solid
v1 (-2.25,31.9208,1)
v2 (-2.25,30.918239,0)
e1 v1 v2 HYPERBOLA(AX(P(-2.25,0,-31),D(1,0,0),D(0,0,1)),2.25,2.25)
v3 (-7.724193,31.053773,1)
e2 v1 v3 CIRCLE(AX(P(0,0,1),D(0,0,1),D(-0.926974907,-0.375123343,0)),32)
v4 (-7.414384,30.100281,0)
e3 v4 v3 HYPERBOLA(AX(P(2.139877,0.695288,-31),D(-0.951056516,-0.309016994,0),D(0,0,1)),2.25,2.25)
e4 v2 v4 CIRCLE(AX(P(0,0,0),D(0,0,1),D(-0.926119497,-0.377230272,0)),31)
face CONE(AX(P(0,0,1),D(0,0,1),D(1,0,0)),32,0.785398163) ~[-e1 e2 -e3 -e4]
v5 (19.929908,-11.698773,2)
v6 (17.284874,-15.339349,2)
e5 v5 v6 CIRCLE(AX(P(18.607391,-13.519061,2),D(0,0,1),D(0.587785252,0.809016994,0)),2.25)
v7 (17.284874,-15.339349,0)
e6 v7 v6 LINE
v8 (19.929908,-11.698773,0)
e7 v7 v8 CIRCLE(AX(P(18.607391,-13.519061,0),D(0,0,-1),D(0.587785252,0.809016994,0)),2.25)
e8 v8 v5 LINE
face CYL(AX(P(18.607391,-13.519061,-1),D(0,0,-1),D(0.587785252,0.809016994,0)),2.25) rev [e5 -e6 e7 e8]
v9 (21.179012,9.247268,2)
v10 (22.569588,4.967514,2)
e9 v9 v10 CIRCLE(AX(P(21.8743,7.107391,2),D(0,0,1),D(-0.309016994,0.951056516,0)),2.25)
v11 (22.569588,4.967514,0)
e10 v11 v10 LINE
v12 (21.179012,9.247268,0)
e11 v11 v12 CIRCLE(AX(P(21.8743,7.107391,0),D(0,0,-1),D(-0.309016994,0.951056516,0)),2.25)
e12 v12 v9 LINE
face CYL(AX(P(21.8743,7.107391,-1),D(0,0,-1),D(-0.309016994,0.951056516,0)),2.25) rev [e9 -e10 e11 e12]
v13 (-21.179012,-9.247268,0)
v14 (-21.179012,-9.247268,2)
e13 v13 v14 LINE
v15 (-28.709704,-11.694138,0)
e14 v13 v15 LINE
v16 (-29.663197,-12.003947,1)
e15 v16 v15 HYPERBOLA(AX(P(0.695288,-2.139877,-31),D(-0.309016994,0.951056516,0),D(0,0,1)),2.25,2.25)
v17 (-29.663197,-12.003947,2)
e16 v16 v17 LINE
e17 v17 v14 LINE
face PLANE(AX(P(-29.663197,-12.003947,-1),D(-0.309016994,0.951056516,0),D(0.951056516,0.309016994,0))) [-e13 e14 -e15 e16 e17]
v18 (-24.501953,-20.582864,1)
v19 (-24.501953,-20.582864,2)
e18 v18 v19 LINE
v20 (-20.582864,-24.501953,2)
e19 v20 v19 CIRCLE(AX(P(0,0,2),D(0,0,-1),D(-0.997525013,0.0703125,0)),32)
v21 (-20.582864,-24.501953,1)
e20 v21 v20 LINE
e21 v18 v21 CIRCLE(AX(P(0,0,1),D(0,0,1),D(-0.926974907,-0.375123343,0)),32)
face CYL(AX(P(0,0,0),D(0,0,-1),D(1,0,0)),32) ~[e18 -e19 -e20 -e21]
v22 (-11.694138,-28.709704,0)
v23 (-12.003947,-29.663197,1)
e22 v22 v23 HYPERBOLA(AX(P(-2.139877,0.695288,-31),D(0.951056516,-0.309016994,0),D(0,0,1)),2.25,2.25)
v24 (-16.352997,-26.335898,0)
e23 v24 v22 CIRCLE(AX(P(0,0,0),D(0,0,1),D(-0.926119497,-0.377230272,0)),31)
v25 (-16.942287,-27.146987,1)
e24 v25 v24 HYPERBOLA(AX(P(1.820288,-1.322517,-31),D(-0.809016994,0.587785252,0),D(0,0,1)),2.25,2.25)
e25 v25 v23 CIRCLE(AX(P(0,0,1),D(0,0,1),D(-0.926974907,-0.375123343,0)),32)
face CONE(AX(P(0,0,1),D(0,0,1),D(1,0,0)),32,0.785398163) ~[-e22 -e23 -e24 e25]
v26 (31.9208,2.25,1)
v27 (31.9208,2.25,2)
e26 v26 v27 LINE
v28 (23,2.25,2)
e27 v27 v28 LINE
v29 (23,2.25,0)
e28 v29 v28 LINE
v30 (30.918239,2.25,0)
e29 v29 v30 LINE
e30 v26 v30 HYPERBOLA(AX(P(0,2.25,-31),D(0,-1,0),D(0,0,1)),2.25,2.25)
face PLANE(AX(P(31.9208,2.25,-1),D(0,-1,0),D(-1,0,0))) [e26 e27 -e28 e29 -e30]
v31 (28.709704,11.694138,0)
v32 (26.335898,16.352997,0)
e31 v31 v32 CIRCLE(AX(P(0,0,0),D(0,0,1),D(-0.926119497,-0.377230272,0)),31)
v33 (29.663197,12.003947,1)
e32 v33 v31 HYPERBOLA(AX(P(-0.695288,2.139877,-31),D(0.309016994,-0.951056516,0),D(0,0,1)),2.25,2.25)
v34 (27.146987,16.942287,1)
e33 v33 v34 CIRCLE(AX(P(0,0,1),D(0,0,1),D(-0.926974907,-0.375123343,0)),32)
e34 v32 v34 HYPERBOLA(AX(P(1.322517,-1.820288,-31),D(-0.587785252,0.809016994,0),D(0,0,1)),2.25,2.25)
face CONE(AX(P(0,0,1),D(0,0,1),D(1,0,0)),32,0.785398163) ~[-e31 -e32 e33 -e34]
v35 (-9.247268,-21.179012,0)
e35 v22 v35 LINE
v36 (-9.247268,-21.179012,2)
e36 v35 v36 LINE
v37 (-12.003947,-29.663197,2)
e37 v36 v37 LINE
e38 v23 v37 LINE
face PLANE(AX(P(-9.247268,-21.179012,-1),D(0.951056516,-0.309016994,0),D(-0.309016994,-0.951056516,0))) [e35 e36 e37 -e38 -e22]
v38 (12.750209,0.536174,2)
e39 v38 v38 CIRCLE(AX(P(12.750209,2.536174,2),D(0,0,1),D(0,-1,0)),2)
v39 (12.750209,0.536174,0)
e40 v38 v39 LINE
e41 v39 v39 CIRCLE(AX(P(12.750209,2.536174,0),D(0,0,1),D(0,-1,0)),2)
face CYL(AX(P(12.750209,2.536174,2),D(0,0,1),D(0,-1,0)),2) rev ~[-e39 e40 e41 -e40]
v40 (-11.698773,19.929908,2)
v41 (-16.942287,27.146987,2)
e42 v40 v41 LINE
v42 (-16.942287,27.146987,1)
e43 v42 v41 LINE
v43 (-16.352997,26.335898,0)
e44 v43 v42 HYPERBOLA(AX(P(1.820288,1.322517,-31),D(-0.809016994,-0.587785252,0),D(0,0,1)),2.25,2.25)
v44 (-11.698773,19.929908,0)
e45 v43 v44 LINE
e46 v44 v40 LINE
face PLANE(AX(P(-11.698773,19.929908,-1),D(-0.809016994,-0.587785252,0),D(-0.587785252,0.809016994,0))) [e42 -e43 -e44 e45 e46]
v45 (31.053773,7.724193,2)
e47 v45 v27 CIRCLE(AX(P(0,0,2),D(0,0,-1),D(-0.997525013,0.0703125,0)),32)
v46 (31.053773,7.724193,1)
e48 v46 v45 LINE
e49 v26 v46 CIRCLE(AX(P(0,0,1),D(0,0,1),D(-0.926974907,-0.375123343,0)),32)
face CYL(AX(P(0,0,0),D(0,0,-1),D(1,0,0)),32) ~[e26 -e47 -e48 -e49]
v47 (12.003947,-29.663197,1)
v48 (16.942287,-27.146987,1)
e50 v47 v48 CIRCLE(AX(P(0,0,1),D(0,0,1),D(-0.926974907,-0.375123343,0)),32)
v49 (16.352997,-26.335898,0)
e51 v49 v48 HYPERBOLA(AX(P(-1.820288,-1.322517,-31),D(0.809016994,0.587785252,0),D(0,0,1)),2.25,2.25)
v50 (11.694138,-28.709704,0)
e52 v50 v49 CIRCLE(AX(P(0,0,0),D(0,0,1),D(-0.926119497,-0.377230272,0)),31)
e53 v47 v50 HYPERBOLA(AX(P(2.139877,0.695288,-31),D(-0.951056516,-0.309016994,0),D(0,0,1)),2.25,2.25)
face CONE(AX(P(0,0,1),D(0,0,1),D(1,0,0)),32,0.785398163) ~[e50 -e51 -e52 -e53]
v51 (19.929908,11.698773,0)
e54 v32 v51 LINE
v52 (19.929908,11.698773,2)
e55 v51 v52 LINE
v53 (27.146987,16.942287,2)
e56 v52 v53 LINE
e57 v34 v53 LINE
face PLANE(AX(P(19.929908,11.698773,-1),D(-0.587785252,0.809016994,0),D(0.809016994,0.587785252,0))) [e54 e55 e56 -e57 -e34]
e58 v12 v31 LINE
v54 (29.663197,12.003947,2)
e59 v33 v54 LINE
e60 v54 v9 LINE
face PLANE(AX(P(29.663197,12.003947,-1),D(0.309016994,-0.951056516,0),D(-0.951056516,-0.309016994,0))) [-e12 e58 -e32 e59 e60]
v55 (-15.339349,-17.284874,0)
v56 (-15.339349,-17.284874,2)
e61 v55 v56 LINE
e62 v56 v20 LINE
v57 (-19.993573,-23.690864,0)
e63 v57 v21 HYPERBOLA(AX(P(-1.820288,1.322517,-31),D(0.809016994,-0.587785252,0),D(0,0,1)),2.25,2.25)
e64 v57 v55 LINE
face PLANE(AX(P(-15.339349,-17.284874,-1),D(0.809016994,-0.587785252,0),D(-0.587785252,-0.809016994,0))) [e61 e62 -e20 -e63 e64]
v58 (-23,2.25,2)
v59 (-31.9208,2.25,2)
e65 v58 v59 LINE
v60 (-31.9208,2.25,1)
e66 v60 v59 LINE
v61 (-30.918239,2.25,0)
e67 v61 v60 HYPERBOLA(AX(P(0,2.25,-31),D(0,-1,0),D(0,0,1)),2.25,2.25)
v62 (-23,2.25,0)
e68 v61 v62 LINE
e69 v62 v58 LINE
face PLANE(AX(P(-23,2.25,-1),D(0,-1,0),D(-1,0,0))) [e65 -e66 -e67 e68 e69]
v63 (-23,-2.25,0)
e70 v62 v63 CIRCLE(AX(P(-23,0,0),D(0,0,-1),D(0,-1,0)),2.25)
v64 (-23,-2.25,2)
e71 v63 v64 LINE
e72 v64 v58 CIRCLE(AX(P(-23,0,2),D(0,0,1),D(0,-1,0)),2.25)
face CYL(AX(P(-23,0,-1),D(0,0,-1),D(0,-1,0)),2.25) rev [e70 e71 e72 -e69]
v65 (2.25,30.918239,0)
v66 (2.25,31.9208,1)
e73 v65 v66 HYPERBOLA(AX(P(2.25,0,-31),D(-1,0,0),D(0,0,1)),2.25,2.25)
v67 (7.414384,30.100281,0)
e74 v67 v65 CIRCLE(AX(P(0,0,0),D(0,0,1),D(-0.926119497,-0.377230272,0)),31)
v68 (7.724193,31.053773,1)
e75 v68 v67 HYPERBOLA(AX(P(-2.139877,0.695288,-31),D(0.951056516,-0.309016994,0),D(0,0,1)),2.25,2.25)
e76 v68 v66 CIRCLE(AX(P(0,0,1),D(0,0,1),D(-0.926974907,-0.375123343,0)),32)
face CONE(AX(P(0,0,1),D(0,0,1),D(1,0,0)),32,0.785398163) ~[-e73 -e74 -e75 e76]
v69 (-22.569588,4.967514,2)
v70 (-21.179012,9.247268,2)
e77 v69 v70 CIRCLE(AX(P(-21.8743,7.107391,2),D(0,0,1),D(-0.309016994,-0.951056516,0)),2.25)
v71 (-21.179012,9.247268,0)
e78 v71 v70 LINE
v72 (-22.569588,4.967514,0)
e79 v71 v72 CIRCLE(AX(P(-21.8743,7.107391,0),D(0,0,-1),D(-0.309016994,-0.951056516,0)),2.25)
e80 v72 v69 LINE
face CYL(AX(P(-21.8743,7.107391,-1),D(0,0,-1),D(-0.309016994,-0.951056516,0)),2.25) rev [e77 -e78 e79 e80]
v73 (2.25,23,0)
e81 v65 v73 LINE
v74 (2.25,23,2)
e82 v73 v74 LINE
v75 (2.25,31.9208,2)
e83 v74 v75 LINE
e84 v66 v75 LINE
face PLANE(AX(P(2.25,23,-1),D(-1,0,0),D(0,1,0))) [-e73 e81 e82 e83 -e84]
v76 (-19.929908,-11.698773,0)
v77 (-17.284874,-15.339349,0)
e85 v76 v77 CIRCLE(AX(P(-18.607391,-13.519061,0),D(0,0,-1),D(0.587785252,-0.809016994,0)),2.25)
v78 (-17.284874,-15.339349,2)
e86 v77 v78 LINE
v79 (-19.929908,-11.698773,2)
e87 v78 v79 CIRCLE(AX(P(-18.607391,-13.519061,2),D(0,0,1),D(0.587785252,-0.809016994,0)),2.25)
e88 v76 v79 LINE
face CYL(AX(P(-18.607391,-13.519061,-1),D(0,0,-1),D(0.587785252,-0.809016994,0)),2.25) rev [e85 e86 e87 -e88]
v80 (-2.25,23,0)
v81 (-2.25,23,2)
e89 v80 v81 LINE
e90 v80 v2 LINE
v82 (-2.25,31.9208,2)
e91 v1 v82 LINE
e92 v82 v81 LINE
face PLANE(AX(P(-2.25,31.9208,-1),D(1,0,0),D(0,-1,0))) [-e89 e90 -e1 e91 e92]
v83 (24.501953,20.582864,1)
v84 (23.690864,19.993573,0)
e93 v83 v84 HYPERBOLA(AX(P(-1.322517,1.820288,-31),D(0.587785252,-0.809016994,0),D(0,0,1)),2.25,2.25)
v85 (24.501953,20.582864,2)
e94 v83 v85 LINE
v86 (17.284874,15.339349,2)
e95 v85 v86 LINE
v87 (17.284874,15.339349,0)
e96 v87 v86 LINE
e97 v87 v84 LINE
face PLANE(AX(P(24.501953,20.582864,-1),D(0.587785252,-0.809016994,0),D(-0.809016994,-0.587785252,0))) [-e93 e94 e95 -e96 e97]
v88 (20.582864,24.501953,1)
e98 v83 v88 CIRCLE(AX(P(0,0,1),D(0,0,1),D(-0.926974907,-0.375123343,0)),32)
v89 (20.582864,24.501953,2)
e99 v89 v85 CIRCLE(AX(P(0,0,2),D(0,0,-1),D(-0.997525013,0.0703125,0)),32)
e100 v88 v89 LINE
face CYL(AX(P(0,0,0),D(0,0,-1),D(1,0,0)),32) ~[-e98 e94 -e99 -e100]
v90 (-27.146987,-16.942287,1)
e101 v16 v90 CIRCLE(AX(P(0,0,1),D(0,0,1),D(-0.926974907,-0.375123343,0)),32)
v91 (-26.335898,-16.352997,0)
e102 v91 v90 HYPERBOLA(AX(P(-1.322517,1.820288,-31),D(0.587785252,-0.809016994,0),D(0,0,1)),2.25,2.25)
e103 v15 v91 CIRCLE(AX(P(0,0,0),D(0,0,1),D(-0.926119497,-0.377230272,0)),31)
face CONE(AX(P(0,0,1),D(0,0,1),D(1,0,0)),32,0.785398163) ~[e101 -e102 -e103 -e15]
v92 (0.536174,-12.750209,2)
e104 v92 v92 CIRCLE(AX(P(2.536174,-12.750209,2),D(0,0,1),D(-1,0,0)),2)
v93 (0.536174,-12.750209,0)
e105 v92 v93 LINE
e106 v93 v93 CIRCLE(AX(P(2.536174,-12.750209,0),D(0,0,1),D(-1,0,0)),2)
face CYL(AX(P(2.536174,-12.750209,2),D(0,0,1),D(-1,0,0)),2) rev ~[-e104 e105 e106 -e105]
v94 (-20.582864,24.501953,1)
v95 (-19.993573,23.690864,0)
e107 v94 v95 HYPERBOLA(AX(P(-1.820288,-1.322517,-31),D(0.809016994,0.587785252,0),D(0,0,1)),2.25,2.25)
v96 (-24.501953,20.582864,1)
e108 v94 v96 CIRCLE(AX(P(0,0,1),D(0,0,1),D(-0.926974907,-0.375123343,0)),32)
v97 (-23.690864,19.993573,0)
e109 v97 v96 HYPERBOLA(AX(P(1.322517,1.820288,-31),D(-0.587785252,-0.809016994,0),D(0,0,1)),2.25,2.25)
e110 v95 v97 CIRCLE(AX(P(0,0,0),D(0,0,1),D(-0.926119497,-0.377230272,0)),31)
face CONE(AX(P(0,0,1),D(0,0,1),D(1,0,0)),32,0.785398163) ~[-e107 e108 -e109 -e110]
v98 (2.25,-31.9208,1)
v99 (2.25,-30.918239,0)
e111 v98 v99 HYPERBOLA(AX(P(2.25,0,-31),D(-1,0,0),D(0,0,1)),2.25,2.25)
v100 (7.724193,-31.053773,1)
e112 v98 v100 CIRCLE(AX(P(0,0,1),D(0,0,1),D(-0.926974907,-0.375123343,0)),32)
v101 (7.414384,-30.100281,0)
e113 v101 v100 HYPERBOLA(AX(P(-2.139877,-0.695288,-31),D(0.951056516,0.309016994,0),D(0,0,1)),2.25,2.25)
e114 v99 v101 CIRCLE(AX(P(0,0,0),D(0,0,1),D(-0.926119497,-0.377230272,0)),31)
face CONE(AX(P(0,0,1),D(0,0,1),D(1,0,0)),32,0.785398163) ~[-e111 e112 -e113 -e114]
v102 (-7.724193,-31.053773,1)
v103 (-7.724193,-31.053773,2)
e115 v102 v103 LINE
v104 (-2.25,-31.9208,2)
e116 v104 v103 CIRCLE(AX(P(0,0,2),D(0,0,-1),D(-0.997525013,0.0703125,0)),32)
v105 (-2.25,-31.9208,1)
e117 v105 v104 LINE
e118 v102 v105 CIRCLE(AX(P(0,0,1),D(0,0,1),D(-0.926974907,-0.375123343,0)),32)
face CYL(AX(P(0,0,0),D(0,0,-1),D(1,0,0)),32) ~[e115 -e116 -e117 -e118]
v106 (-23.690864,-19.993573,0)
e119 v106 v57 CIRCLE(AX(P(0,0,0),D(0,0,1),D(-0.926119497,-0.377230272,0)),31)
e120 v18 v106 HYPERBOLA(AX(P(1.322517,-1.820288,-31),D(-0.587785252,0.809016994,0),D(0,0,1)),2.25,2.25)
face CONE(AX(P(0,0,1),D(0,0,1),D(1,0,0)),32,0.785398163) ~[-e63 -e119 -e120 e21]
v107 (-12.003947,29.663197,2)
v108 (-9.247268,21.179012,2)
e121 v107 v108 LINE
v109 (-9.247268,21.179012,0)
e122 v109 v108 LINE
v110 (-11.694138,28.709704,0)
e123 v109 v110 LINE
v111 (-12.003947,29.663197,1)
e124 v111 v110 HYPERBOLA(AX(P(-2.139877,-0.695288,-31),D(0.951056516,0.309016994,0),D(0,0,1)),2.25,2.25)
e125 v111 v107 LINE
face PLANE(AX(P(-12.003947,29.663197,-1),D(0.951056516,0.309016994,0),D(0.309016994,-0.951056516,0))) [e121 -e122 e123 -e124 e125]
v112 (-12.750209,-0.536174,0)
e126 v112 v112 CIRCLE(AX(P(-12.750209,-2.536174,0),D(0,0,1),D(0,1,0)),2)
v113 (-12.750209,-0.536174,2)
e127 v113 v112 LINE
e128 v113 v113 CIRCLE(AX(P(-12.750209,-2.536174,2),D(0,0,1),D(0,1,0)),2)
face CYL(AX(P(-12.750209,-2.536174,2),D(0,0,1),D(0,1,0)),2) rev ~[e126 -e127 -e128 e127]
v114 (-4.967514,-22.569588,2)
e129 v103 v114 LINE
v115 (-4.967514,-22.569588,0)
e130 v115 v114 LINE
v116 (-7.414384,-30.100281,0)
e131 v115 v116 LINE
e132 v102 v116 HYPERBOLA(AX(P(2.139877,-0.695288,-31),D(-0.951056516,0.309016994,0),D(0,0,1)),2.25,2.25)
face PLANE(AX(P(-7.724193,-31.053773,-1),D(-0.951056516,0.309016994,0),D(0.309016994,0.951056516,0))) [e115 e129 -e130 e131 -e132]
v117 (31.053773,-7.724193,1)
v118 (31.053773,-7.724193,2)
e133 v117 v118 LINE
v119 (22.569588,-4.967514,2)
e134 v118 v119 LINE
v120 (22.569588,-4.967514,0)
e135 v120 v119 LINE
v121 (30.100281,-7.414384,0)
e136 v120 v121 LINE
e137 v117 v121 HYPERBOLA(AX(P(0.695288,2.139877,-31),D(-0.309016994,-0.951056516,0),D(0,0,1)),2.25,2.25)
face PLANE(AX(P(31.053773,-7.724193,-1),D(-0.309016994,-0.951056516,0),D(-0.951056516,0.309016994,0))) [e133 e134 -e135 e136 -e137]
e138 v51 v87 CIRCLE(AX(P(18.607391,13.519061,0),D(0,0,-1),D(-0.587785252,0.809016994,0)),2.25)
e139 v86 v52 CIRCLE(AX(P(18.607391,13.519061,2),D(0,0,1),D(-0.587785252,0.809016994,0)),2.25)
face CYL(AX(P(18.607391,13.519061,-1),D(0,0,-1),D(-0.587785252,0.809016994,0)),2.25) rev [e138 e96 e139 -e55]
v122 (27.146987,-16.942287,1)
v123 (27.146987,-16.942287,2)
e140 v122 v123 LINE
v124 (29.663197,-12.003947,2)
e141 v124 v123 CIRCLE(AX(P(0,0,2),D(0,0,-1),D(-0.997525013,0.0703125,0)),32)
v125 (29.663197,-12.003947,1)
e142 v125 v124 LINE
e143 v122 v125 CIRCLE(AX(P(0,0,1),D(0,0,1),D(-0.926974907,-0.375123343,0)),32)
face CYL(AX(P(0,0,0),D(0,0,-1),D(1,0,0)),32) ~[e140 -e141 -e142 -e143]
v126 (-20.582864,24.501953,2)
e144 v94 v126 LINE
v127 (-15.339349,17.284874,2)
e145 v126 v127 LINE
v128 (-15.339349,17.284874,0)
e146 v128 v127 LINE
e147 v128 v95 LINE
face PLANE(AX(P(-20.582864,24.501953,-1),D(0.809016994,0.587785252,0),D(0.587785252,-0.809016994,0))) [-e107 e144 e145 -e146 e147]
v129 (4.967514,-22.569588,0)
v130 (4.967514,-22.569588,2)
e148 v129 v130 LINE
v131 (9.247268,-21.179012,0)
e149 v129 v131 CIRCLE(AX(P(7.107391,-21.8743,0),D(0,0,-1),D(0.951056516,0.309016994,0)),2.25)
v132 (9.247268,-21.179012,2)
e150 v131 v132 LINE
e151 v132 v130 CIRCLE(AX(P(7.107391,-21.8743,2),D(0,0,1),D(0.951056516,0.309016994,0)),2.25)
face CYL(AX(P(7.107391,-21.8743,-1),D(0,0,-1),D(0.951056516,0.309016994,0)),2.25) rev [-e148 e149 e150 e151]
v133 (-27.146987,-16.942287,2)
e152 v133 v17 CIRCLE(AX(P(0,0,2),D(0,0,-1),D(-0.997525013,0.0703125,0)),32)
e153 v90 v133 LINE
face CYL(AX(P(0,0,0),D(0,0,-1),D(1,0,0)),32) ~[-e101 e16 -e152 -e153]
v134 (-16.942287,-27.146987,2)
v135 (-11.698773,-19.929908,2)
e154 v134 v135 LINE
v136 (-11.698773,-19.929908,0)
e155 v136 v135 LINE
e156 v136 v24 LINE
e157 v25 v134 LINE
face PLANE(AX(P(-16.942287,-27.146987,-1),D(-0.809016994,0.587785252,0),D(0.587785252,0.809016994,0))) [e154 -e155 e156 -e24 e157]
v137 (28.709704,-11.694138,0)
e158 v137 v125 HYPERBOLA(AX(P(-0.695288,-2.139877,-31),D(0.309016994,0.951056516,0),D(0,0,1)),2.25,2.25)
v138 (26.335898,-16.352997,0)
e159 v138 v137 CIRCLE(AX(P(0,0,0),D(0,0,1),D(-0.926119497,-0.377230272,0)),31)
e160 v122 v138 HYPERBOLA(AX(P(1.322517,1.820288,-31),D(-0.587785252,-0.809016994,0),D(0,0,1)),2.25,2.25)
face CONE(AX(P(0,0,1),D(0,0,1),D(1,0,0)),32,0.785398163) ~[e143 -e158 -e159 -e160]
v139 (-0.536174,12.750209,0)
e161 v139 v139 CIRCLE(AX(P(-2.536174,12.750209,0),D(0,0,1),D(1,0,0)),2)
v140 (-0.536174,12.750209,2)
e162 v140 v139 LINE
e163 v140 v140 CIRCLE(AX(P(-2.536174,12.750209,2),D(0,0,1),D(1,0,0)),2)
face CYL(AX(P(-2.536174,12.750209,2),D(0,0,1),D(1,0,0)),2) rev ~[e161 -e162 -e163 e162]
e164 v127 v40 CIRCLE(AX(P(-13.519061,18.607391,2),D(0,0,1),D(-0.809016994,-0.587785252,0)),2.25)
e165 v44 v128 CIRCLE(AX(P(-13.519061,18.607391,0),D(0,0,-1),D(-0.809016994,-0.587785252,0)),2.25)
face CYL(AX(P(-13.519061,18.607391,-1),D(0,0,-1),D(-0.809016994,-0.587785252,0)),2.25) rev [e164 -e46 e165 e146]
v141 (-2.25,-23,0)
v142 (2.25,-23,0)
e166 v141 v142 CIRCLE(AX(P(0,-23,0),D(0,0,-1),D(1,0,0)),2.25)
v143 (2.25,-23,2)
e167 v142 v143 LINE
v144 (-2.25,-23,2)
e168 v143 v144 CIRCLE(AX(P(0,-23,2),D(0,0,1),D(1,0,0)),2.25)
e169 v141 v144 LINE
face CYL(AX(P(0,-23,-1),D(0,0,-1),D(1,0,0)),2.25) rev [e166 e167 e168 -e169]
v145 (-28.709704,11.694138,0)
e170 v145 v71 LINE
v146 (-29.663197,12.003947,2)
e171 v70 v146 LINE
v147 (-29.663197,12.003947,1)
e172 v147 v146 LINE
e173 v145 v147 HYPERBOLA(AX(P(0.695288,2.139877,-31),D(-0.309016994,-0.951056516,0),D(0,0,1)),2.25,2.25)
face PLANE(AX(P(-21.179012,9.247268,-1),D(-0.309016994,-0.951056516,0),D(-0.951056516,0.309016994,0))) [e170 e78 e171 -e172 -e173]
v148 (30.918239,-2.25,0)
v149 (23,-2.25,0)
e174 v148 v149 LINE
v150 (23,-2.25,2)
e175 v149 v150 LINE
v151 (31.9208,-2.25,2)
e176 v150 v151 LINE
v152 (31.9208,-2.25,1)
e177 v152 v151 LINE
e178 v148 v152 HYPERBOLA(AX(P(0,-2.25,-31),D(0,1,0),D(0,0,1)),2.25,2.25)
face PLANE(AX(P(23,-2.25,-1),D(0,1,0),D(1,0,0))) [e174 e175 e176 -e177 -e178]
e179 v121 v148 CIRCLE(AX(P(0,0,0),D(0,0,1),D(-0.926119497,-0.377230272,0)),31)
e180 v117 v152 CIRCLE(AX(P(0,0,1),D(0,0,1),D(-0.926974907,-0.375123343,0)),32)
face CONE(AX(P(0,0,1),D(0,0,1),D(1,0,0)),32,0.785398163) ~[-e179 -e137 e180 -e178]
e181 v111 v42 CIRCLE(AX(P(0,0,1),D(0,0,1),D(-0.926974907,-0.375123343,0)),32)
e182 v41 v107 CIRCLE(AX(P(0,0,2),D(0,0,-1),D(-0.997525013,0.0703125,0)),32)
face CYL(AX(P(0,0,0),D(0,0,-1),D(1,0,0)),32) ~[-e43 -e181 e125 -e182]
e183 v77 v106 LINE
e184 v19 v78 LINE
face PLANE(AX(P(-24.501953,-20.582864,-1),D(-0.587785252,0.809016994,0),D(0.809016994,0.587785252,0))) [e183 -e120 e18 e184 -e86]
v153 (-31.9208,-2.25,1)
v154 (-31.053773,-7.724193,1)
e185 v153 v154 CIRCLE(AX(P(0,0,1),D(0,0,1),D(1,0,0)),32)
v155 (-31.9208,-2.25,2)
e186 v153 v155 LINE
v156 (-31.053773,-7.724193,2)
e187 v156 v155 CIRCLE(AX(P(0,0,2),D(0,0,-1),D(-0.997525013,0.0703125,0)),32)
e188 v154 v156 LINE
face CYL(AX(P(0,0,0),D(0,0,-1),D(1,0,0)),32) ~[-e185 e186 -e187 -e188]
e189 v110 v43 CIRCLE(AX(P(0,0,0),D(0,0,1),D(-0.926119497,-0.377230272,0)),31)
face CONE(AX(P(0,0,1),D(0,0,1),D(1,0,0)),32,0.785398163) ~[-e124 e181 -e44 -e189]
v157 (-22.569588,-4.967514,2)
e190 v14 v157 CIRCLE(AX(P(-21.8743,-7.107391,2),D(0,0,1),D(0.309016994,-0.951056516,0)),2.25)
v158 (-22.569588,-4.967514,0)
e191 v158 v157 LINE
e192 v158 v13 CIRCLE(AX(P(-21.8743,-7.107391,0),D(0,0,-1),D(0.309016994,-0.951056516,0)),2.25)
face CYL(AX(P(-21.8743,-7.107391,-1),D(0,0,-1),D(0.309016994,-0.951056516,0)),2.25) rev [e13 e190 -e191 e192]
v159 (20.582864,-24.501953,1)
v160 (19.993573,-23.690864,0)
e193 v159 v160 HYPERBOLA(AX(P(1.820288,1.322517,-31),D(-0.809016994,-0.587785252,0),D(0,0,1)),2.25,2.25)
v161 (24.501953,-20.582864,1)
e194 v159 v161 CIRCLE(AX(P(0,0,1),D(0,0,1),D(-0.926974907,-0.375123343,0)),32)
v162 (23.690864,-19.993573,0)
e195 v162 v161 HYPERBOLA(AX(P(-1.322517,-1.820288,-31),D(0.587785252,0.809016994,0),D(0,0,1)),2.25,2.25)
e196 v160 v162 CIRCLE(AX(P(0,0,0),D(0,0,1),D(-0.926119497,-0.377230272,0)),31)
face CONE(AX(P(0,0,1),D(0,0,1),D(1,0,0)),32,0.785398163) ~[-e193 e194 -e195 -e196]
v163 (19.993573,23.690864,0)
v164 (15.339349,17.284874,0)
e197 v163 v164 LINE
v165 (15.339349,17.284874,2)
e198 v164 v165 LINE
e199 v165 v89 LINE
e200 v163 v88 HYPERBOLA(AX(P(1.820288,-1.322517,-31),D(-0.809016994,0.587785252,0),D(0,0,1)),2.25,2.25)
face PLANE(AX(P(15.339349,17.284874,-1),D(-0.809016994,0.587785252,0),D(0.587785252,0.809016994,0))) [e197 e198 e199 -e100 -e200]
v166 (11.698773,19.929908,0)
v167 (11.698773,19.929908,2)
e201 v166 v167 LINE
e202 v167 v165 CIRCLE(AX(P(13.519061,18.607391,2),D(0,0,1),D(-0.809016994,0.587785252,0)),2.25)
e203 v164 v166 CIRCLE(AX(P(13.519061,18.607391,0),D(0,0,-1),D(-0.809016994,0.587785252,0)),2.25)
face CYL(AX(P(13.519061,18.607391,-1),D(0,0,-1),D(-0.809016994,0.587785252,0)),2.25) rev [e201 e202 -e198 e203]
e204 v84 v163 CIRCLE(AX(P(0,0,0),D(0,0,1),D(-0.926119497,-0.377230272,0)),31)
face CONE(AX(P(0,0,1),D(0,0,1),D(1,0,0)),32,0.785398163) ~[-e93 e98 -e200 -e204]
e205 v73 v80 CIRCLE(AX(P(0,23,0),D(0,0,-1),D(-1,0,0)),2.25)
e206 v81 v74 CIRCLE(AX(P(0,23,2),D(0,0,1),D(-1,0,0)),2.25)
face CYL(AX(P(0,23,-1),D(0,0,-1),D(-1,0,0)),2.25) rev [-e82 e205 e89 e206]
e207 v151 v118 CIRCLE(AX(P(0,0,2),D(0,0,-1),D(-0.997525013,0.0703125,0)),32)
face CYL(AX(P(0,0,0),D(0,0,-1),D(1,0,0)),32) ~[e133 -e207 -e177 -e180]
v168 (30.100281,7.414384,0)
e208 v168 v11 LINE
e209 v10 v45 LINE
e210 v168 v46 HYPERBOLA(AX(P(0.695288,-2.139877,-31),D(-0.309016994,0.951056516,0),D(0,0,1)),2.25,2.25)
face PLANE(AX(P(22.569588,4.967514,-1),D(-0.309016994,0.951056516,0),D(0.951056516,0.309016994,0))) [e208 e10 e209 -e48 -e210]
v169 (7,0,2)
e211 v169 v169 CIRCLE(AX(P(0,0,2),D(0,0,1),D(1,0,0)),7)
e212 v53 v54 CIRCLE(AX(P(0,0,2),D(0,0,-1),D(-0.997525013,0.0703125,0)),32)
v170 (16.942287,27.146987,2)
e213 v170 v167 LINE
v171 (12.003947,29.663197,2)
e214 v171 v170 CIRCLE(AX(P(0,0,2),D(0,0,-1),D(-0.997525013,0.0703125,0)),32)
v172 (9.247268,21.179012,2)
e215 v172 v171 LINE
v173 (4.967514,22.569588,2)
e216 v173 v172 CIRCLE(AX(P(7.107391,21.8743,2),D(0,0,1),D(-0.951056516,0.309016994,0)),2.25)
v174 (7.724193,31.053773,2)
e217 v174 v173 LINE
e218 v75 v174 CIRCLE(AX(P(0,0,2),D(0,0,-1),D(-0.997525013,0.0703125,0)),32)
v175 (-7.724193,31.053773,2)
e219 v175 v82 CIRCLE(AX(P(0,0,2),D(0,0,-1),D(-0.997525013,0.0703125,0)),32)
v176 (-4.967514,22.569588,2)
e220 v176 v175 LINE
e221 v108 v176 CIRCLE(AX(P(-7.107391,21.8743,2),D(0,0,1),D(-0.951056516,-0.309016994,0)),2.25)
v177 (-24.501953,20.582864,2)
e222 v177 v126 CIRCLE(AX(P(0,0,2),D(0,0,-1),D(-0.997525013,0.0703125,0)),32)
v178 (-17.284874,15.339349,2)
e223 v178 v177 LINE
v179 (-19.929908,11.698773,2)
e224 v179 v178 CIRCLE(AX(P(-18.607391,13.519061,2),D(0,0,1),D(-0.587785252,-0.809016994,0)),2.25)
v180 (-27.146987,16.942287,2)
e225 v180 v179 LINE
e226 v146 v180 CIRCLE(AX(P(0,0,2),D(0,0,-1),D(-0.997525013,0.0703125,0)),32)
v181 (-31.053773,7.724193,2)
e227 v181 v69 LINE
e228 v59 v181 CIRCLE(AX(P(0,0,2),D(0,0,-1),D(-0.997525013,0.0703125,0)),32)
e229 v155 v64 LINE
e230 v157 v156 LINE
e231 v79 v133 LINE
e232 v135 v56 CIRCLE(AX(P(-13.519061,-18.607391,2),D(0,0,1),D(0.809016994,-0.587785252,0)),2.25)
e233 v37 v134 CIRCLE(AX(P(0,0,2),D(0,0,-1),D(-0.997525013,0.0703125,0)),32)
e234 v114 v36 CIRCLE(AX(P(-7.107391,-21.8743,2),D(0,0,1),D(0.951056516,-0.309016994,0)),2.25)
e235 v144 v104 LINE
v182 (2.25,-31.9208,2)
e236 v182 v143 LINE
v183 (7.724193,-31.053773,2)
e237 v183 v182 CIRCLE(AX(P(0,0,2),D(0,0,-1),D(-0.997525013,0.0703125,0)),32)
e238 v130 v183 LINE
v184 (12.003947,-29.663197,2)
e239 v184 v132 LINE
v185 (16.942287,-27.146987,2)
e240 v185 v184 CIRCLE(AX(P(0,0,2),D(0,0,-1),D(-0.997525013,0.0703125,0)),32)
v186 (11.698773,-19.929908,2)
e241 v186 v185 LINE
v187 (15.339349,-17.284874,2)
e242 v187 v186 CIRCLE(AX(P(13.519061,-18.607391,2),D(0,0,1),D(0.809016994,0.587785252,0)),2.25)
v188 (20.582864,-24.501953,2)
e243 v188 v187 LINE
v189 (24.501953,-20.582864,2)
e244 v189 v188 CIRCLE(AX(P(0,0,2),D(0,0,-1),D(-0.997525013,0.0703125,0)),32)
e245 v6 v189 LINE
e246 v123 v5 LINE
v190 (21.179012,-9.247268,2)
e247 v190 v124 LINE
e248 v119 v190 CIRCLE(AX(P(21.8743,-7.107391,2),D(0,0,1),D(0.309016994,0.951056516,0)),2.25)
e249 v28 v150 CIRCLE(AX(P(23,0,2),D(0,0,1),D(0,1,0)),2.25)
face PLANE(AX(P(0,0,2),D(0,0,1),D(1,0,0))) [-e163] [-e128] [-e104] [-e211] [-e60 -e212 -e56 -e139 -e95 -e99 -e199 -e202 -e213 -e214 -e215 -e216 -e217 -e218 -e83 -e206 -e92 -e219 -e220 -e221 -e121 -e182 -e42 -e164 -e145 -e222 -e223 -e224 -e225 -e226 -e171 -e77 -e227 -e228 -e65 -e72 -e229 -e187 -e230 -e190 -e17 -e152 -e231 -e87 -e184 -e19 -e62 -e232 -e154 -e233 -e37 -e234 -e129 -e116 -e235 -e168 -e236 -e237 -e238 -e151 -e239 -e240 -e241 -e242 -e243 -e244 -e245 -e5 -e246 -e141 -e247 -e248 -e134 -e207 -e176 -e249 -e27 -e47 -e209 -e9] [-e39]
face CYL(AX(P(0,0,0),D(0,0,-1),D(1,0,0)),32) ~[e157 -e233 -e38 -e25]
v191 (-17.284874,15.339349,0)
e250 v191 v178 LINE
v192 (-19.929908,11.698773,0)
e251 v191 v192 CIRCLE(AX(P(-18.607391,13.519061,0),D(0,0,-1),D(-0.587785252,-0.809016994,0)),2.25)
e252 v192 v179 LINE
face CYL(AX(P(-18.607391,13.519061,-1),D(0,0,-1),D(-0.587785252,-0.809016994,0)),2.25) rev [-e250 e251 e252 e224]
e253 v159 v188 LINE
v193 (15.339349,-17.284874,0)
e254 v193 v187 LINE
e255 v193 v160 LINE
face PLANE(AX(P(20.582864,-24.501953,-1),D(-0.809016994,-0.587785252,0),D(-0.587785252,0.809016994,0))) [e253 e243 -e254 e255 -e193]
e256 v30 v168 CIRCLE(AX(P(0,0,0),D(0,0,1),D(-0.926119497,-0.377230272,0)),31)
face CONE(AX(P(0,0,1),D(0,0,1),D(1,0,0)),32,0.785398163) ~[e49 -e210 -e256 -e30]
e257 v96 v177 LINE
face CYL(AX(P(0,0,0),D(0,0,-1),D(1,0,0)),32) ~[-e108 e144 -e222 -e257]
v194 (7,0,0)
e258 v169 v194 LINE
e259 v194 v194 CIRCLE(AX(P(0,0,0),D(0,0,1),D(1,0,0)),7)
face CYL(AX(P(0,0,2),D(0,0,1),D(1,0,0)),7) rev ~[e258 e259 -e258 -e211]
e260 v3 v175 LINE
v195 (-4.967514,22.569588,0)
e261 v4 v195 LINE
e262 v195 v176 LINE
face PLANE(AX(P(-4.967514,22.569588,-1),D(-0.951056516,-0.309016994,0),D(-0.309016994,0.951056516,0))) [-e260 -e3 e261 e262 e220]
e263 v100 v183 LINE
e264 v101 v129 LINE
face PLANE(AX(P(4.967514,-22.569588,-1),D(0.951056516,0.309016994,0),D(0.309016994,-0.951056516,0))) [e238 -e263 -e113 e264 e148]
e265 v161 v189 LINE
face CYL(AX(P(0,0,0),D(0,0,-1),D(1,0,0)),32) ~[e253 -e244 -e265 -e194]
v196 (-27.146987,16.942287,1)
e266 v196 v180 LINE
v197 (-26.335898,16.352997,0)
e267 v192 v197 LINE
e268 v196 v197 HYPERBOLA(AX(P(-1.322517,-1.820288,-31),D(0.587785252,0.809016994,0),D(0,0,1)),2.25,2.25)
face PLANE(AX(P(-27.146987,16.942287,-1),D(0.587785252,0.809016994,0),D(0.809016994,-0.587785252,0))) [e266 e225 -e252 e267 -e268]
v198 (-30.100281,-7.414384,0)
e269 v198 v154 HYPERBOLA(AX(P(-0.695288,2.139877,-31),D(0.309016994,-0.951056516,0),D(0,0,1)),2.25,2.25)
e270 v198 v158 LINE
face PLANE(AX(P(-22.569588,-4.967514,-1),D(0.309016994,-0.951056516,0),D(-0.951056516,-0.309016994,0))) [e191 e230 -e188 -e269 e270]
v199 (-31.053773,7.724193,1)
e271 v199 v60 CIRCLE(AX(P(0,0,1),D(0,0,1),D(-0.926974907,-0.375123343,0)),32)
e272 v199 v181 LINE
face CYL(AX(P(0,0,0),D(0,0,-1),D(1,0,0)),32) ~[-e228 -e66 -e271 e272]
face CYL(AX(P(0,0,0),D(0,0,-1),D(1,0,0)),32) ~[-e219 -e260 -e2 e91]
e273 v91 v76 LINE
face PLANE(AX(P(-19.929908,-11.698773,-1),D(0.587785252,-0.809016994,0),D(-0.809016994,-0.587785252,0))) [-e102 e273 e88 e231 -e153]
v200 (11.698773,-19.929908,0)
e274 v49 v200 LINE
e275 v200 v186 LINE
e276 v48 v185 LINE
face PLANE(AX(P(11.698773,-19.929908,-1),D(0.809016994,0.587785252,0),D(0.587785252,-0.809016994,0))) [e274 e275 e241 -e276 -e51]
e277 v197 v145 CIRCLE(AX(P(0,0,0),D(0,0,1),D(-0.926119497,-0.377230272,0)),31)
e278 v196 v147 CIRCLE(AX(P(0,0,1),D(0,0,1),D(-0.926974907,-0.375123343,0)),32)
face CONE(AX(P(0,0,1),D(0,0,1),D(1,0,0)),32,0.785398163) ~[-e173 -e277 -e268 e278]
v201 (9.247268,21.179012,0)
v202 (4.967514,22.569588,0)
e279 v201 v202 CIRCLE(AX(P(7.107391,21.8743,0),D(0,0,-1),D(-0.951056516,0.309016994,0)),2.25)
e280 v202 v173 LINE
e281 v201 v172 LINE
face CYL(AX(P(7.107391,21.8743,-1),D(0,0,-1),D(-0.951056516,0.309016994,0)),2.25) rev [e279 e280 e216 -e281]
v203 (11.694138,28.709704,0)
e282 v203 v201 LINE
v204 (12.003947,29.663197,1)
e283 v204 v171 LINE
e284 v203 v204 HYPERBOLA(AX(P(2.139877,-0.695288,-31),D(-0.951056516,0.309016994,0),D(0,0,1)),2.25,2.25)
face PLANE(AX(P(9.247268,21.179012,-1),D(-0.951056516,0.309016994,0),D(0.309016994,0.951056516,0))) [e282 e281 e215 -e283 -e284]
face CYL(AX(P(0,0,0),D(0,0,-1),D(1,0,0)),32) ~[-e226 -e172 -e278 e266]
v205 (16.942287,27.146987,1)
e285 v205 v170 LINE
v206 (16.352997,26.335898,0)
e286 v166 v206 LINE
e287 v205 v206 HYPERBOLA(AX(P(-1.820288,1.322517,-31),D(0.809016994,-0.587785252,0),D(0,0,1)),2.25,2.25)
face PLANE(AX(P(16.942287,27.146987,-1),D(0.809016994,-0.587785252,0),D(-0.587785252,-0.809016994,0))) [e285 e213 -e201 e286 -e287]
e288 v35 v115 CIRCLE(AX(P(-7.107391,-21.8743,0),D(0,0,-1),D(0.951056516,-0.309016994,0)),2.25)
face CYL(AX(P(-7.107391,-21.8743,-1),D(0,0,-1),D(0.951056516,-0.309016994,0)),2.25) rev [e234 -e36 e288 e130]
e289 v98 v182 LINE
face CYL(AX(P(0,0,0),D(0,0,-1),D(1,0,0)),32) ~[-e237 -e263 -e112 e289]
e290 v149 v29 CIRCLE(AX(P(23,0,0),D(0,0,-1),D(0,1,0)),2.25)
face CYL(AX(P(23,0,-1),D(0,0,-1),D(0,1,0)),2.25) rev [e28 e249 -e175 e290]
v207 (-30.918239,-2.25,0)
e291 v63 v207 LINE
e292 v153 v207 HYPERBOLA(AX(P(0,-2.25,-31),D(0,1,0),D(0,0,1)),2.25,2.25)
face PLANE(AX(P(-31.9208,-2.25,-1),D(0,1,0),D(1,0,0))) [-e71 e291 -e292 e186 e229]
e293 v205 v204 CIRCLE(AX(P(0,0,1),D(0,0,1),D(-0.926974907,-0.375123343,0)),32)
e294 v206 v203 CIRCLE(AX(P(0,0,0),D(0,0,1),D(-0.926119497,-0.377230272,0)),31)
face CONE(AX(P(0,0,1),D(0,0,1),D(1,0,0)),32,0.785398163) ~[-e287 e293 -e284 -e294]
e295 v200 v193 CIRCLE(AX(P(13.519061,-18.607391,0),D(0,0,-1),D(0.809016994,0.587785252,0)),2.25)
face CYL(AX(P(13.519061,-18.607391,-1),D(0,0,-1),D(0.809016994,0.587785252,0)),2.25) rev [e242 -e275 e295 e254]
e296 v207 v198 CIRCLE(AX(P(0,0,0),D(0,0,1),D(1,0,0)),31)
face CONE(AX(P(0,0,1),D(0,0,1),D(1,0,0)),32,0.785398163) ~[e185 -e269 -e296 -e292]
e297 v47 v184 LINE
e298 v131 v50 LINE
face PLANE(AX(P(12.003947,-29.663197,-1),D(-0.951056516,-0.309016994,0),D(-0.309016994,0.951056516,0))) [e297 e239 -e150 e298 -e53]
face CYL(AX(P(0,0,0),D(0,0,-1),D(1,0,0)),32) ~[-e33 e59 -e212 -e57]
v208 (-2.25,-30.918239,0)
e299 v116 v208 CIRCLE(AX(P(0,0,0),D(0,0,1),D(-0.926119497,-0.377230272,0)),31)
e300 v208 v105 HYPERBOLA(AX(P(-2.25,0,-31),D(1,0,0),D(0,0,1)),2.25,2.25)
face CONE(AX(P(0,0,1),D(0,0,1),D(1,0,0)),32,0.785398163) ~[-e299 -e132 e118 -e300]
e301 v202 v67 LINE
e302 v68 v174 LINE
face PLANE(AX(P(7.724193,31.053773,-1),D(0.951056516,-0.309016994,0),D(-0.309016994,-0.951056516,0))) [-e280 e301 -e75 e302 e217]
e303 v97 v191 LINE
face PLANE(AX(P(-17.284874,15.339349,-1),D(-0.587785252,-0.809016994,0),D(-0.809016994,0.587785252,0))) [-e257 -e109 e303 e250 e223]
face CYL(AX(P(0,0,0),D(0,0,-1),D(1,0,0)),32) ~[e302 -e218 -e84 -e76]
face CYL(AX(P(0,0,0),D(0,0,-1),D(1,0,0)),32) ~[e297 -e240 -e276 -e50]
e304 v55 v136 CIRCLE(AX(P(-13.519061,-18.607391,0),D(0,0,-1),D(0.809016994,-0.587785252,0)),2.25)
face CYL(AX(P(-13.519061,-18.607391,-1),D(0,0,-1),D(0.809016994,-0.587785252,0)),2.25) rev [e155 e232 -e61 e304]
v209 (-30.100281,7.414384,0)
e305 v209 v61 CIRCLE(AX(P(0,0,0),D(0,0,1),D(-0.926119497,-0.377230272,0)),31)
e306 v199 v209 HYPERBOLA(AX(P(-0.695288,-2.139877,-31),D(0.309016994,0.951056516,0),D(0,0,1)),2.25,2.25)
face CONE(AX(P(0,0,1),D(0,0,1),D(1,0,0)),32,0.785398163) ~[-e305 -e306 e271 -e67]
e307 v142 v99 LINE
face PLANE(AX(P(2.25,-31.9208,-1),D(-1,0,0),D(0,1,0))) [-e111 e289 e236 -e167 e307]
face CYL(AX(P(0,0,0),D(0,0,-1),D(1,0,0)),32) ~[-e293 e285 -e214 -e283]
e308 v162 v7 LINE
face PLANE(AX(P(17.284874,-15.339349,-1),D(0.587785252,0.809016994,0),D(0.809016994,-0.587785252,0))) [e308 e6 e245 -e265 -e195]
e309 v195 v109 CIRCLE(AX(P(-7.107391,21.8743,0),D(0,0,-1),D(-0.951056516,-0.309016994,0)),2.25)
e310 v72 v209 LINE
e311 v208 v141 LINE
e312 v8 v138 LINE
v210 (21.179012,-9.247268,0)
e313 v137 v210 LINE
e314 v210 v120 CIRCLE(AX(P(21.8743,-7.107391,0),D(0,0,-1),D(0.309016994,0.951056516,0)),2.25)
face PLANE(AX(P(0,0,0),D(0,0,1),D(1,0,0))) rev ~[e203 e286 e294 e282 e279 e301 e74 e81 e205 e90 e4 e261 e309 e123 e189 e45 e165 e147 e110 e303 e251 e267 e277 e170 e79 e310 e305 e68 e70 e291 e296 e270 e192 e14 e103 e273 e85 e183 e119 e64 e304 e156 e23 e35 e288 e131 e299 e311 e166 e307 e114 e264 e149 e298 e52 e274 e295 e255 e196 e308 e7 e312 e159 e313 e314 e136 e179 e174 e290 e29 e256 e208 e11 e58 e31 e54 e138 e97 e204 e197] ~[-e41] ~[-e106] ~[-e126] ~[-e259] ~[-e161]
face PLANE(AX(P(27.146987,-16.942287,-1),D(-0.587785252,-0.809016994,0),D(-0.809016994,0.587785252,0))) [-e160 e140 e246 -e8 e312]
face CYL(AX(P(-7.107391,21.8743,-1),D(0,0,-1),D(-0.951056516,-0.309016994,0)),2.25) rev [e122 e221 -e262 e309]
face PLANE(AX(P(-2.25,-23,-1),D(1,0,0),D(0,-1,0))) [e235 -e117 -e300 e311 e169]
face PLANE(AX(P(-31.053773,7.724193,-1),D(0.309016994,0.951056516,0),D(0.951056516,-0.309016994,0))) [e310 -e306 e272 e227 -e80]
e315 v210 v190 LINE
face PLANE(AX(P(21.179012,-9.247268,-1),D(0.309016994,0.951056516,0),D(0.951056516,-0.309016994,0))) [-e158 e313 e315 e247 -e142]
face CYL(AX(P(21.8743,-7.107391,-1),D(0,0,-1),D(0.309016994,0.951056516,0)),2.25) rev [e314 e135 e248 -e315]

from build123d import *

# Parameters (mm, degrees)
SKETCH_1_R               = 32
EXTRUDE_1_DEPTH          = 2
SKETCH_2_R               = 7
CUT_EXTRUDE_2_DEPTH      = 3
SKETCH_3_R               = 2
CUT_EXTRUDE_3_DEPTH      = 3
PATTERN_CIRCULAR_1_COUNT = 4
CHAMFER_1_SIZE           = 1
CUT_EXTRUDE_START        = -3
CUT_EXTRUDE_4_DEPTH      = 3
PATTERN_CIRCULAR_3_COUNT = 20


with BuildPart() as part:
    # 草图1 → 拉伸1 (new body)
    with BuildSketch(Plane.XY):
        Circle(SKETCH_1_R)
    extrude(amount=EXTRUDE_1_DEPTH)

    # 草图2 → 拉伸2 (cut)
    with BuildSketch(Plane.XY.offset(2)):
        Circle(SKETCH_2_R)
    extrude(amount=-CUT_EXTRUDE_2_DEPTH, mode=Mode.SUBTRACT)

    # 草图3 → 拉伸3 (cut)
    with BuildSketch(Plane.XY.offset(2)):
        with Locations((-2.536174186, 12.750208645)):
            Circle(SKETCH_3_R)
    cut_extrude_3 = extrude(amount=-CUT_EXTRUDE_3_DEPTH, mode=Mode.SUBTRACT)

    # 阵列(圆周)1: 拉伸3 ×4 about axis
    pattern_circular_1_axis = Axis((0, 0, 0), (0, 0, 1))
    for i in range(1, PATTERN_CIRCULAR_1_COUNT):
        add(cut_extrude_3.rotate(pattern_circular_1_axis, i * 360 / PATTERN_CIRCULAR_1_COUNT), mode=Mode.SUBTRACT)

    # 倒角1
    chamfer_1_edges = [part.edges().sort_by_distance(p)[0] for p in [
        (-32, 0, 0),
    ]]
    chamfer(chamfer_1_edges, length=CHAMFER_1_SIZE)

    # 草图4 → 拉伸4 (cut)
    with BuildSketch(Plane.XY.offset(2).offset(CUT_EXTRUDE_START)):
        with BuildLine():
            Line((-23, 2.25), (-31.920800429, 2.25))
            ThreePointArc((-31.920800429, 2.25), (-32, 0), (-31.920800429, -2.25))
            Line((-31.920800429, -2.25), (-23, -2.25))
            ThreePointArc((-23, -2.25), (-20.75, 0), (-23, 2.25))
        make_face()
    cut_extrude_4 = extrude(amount=CUT_EXTRUDE_4_DEPTH, mode=Mode.SUBTRACT)

    # 阵列(圆周)3: 拉伸4 ×20 about axis
    pattern_circular_3_axis = Axis((0, 0, 0), (0, 0, 1))
    for i in range(1, PATTERN_CIRCULAR_3_COUNT):
        add(cut_extrude_4.rotate(pattern_circular_3_axis, i * 360 / PATTERN_CIRCULAR_3_COUNT), mode=Mode.SUBTRACT)


solid = part.part
